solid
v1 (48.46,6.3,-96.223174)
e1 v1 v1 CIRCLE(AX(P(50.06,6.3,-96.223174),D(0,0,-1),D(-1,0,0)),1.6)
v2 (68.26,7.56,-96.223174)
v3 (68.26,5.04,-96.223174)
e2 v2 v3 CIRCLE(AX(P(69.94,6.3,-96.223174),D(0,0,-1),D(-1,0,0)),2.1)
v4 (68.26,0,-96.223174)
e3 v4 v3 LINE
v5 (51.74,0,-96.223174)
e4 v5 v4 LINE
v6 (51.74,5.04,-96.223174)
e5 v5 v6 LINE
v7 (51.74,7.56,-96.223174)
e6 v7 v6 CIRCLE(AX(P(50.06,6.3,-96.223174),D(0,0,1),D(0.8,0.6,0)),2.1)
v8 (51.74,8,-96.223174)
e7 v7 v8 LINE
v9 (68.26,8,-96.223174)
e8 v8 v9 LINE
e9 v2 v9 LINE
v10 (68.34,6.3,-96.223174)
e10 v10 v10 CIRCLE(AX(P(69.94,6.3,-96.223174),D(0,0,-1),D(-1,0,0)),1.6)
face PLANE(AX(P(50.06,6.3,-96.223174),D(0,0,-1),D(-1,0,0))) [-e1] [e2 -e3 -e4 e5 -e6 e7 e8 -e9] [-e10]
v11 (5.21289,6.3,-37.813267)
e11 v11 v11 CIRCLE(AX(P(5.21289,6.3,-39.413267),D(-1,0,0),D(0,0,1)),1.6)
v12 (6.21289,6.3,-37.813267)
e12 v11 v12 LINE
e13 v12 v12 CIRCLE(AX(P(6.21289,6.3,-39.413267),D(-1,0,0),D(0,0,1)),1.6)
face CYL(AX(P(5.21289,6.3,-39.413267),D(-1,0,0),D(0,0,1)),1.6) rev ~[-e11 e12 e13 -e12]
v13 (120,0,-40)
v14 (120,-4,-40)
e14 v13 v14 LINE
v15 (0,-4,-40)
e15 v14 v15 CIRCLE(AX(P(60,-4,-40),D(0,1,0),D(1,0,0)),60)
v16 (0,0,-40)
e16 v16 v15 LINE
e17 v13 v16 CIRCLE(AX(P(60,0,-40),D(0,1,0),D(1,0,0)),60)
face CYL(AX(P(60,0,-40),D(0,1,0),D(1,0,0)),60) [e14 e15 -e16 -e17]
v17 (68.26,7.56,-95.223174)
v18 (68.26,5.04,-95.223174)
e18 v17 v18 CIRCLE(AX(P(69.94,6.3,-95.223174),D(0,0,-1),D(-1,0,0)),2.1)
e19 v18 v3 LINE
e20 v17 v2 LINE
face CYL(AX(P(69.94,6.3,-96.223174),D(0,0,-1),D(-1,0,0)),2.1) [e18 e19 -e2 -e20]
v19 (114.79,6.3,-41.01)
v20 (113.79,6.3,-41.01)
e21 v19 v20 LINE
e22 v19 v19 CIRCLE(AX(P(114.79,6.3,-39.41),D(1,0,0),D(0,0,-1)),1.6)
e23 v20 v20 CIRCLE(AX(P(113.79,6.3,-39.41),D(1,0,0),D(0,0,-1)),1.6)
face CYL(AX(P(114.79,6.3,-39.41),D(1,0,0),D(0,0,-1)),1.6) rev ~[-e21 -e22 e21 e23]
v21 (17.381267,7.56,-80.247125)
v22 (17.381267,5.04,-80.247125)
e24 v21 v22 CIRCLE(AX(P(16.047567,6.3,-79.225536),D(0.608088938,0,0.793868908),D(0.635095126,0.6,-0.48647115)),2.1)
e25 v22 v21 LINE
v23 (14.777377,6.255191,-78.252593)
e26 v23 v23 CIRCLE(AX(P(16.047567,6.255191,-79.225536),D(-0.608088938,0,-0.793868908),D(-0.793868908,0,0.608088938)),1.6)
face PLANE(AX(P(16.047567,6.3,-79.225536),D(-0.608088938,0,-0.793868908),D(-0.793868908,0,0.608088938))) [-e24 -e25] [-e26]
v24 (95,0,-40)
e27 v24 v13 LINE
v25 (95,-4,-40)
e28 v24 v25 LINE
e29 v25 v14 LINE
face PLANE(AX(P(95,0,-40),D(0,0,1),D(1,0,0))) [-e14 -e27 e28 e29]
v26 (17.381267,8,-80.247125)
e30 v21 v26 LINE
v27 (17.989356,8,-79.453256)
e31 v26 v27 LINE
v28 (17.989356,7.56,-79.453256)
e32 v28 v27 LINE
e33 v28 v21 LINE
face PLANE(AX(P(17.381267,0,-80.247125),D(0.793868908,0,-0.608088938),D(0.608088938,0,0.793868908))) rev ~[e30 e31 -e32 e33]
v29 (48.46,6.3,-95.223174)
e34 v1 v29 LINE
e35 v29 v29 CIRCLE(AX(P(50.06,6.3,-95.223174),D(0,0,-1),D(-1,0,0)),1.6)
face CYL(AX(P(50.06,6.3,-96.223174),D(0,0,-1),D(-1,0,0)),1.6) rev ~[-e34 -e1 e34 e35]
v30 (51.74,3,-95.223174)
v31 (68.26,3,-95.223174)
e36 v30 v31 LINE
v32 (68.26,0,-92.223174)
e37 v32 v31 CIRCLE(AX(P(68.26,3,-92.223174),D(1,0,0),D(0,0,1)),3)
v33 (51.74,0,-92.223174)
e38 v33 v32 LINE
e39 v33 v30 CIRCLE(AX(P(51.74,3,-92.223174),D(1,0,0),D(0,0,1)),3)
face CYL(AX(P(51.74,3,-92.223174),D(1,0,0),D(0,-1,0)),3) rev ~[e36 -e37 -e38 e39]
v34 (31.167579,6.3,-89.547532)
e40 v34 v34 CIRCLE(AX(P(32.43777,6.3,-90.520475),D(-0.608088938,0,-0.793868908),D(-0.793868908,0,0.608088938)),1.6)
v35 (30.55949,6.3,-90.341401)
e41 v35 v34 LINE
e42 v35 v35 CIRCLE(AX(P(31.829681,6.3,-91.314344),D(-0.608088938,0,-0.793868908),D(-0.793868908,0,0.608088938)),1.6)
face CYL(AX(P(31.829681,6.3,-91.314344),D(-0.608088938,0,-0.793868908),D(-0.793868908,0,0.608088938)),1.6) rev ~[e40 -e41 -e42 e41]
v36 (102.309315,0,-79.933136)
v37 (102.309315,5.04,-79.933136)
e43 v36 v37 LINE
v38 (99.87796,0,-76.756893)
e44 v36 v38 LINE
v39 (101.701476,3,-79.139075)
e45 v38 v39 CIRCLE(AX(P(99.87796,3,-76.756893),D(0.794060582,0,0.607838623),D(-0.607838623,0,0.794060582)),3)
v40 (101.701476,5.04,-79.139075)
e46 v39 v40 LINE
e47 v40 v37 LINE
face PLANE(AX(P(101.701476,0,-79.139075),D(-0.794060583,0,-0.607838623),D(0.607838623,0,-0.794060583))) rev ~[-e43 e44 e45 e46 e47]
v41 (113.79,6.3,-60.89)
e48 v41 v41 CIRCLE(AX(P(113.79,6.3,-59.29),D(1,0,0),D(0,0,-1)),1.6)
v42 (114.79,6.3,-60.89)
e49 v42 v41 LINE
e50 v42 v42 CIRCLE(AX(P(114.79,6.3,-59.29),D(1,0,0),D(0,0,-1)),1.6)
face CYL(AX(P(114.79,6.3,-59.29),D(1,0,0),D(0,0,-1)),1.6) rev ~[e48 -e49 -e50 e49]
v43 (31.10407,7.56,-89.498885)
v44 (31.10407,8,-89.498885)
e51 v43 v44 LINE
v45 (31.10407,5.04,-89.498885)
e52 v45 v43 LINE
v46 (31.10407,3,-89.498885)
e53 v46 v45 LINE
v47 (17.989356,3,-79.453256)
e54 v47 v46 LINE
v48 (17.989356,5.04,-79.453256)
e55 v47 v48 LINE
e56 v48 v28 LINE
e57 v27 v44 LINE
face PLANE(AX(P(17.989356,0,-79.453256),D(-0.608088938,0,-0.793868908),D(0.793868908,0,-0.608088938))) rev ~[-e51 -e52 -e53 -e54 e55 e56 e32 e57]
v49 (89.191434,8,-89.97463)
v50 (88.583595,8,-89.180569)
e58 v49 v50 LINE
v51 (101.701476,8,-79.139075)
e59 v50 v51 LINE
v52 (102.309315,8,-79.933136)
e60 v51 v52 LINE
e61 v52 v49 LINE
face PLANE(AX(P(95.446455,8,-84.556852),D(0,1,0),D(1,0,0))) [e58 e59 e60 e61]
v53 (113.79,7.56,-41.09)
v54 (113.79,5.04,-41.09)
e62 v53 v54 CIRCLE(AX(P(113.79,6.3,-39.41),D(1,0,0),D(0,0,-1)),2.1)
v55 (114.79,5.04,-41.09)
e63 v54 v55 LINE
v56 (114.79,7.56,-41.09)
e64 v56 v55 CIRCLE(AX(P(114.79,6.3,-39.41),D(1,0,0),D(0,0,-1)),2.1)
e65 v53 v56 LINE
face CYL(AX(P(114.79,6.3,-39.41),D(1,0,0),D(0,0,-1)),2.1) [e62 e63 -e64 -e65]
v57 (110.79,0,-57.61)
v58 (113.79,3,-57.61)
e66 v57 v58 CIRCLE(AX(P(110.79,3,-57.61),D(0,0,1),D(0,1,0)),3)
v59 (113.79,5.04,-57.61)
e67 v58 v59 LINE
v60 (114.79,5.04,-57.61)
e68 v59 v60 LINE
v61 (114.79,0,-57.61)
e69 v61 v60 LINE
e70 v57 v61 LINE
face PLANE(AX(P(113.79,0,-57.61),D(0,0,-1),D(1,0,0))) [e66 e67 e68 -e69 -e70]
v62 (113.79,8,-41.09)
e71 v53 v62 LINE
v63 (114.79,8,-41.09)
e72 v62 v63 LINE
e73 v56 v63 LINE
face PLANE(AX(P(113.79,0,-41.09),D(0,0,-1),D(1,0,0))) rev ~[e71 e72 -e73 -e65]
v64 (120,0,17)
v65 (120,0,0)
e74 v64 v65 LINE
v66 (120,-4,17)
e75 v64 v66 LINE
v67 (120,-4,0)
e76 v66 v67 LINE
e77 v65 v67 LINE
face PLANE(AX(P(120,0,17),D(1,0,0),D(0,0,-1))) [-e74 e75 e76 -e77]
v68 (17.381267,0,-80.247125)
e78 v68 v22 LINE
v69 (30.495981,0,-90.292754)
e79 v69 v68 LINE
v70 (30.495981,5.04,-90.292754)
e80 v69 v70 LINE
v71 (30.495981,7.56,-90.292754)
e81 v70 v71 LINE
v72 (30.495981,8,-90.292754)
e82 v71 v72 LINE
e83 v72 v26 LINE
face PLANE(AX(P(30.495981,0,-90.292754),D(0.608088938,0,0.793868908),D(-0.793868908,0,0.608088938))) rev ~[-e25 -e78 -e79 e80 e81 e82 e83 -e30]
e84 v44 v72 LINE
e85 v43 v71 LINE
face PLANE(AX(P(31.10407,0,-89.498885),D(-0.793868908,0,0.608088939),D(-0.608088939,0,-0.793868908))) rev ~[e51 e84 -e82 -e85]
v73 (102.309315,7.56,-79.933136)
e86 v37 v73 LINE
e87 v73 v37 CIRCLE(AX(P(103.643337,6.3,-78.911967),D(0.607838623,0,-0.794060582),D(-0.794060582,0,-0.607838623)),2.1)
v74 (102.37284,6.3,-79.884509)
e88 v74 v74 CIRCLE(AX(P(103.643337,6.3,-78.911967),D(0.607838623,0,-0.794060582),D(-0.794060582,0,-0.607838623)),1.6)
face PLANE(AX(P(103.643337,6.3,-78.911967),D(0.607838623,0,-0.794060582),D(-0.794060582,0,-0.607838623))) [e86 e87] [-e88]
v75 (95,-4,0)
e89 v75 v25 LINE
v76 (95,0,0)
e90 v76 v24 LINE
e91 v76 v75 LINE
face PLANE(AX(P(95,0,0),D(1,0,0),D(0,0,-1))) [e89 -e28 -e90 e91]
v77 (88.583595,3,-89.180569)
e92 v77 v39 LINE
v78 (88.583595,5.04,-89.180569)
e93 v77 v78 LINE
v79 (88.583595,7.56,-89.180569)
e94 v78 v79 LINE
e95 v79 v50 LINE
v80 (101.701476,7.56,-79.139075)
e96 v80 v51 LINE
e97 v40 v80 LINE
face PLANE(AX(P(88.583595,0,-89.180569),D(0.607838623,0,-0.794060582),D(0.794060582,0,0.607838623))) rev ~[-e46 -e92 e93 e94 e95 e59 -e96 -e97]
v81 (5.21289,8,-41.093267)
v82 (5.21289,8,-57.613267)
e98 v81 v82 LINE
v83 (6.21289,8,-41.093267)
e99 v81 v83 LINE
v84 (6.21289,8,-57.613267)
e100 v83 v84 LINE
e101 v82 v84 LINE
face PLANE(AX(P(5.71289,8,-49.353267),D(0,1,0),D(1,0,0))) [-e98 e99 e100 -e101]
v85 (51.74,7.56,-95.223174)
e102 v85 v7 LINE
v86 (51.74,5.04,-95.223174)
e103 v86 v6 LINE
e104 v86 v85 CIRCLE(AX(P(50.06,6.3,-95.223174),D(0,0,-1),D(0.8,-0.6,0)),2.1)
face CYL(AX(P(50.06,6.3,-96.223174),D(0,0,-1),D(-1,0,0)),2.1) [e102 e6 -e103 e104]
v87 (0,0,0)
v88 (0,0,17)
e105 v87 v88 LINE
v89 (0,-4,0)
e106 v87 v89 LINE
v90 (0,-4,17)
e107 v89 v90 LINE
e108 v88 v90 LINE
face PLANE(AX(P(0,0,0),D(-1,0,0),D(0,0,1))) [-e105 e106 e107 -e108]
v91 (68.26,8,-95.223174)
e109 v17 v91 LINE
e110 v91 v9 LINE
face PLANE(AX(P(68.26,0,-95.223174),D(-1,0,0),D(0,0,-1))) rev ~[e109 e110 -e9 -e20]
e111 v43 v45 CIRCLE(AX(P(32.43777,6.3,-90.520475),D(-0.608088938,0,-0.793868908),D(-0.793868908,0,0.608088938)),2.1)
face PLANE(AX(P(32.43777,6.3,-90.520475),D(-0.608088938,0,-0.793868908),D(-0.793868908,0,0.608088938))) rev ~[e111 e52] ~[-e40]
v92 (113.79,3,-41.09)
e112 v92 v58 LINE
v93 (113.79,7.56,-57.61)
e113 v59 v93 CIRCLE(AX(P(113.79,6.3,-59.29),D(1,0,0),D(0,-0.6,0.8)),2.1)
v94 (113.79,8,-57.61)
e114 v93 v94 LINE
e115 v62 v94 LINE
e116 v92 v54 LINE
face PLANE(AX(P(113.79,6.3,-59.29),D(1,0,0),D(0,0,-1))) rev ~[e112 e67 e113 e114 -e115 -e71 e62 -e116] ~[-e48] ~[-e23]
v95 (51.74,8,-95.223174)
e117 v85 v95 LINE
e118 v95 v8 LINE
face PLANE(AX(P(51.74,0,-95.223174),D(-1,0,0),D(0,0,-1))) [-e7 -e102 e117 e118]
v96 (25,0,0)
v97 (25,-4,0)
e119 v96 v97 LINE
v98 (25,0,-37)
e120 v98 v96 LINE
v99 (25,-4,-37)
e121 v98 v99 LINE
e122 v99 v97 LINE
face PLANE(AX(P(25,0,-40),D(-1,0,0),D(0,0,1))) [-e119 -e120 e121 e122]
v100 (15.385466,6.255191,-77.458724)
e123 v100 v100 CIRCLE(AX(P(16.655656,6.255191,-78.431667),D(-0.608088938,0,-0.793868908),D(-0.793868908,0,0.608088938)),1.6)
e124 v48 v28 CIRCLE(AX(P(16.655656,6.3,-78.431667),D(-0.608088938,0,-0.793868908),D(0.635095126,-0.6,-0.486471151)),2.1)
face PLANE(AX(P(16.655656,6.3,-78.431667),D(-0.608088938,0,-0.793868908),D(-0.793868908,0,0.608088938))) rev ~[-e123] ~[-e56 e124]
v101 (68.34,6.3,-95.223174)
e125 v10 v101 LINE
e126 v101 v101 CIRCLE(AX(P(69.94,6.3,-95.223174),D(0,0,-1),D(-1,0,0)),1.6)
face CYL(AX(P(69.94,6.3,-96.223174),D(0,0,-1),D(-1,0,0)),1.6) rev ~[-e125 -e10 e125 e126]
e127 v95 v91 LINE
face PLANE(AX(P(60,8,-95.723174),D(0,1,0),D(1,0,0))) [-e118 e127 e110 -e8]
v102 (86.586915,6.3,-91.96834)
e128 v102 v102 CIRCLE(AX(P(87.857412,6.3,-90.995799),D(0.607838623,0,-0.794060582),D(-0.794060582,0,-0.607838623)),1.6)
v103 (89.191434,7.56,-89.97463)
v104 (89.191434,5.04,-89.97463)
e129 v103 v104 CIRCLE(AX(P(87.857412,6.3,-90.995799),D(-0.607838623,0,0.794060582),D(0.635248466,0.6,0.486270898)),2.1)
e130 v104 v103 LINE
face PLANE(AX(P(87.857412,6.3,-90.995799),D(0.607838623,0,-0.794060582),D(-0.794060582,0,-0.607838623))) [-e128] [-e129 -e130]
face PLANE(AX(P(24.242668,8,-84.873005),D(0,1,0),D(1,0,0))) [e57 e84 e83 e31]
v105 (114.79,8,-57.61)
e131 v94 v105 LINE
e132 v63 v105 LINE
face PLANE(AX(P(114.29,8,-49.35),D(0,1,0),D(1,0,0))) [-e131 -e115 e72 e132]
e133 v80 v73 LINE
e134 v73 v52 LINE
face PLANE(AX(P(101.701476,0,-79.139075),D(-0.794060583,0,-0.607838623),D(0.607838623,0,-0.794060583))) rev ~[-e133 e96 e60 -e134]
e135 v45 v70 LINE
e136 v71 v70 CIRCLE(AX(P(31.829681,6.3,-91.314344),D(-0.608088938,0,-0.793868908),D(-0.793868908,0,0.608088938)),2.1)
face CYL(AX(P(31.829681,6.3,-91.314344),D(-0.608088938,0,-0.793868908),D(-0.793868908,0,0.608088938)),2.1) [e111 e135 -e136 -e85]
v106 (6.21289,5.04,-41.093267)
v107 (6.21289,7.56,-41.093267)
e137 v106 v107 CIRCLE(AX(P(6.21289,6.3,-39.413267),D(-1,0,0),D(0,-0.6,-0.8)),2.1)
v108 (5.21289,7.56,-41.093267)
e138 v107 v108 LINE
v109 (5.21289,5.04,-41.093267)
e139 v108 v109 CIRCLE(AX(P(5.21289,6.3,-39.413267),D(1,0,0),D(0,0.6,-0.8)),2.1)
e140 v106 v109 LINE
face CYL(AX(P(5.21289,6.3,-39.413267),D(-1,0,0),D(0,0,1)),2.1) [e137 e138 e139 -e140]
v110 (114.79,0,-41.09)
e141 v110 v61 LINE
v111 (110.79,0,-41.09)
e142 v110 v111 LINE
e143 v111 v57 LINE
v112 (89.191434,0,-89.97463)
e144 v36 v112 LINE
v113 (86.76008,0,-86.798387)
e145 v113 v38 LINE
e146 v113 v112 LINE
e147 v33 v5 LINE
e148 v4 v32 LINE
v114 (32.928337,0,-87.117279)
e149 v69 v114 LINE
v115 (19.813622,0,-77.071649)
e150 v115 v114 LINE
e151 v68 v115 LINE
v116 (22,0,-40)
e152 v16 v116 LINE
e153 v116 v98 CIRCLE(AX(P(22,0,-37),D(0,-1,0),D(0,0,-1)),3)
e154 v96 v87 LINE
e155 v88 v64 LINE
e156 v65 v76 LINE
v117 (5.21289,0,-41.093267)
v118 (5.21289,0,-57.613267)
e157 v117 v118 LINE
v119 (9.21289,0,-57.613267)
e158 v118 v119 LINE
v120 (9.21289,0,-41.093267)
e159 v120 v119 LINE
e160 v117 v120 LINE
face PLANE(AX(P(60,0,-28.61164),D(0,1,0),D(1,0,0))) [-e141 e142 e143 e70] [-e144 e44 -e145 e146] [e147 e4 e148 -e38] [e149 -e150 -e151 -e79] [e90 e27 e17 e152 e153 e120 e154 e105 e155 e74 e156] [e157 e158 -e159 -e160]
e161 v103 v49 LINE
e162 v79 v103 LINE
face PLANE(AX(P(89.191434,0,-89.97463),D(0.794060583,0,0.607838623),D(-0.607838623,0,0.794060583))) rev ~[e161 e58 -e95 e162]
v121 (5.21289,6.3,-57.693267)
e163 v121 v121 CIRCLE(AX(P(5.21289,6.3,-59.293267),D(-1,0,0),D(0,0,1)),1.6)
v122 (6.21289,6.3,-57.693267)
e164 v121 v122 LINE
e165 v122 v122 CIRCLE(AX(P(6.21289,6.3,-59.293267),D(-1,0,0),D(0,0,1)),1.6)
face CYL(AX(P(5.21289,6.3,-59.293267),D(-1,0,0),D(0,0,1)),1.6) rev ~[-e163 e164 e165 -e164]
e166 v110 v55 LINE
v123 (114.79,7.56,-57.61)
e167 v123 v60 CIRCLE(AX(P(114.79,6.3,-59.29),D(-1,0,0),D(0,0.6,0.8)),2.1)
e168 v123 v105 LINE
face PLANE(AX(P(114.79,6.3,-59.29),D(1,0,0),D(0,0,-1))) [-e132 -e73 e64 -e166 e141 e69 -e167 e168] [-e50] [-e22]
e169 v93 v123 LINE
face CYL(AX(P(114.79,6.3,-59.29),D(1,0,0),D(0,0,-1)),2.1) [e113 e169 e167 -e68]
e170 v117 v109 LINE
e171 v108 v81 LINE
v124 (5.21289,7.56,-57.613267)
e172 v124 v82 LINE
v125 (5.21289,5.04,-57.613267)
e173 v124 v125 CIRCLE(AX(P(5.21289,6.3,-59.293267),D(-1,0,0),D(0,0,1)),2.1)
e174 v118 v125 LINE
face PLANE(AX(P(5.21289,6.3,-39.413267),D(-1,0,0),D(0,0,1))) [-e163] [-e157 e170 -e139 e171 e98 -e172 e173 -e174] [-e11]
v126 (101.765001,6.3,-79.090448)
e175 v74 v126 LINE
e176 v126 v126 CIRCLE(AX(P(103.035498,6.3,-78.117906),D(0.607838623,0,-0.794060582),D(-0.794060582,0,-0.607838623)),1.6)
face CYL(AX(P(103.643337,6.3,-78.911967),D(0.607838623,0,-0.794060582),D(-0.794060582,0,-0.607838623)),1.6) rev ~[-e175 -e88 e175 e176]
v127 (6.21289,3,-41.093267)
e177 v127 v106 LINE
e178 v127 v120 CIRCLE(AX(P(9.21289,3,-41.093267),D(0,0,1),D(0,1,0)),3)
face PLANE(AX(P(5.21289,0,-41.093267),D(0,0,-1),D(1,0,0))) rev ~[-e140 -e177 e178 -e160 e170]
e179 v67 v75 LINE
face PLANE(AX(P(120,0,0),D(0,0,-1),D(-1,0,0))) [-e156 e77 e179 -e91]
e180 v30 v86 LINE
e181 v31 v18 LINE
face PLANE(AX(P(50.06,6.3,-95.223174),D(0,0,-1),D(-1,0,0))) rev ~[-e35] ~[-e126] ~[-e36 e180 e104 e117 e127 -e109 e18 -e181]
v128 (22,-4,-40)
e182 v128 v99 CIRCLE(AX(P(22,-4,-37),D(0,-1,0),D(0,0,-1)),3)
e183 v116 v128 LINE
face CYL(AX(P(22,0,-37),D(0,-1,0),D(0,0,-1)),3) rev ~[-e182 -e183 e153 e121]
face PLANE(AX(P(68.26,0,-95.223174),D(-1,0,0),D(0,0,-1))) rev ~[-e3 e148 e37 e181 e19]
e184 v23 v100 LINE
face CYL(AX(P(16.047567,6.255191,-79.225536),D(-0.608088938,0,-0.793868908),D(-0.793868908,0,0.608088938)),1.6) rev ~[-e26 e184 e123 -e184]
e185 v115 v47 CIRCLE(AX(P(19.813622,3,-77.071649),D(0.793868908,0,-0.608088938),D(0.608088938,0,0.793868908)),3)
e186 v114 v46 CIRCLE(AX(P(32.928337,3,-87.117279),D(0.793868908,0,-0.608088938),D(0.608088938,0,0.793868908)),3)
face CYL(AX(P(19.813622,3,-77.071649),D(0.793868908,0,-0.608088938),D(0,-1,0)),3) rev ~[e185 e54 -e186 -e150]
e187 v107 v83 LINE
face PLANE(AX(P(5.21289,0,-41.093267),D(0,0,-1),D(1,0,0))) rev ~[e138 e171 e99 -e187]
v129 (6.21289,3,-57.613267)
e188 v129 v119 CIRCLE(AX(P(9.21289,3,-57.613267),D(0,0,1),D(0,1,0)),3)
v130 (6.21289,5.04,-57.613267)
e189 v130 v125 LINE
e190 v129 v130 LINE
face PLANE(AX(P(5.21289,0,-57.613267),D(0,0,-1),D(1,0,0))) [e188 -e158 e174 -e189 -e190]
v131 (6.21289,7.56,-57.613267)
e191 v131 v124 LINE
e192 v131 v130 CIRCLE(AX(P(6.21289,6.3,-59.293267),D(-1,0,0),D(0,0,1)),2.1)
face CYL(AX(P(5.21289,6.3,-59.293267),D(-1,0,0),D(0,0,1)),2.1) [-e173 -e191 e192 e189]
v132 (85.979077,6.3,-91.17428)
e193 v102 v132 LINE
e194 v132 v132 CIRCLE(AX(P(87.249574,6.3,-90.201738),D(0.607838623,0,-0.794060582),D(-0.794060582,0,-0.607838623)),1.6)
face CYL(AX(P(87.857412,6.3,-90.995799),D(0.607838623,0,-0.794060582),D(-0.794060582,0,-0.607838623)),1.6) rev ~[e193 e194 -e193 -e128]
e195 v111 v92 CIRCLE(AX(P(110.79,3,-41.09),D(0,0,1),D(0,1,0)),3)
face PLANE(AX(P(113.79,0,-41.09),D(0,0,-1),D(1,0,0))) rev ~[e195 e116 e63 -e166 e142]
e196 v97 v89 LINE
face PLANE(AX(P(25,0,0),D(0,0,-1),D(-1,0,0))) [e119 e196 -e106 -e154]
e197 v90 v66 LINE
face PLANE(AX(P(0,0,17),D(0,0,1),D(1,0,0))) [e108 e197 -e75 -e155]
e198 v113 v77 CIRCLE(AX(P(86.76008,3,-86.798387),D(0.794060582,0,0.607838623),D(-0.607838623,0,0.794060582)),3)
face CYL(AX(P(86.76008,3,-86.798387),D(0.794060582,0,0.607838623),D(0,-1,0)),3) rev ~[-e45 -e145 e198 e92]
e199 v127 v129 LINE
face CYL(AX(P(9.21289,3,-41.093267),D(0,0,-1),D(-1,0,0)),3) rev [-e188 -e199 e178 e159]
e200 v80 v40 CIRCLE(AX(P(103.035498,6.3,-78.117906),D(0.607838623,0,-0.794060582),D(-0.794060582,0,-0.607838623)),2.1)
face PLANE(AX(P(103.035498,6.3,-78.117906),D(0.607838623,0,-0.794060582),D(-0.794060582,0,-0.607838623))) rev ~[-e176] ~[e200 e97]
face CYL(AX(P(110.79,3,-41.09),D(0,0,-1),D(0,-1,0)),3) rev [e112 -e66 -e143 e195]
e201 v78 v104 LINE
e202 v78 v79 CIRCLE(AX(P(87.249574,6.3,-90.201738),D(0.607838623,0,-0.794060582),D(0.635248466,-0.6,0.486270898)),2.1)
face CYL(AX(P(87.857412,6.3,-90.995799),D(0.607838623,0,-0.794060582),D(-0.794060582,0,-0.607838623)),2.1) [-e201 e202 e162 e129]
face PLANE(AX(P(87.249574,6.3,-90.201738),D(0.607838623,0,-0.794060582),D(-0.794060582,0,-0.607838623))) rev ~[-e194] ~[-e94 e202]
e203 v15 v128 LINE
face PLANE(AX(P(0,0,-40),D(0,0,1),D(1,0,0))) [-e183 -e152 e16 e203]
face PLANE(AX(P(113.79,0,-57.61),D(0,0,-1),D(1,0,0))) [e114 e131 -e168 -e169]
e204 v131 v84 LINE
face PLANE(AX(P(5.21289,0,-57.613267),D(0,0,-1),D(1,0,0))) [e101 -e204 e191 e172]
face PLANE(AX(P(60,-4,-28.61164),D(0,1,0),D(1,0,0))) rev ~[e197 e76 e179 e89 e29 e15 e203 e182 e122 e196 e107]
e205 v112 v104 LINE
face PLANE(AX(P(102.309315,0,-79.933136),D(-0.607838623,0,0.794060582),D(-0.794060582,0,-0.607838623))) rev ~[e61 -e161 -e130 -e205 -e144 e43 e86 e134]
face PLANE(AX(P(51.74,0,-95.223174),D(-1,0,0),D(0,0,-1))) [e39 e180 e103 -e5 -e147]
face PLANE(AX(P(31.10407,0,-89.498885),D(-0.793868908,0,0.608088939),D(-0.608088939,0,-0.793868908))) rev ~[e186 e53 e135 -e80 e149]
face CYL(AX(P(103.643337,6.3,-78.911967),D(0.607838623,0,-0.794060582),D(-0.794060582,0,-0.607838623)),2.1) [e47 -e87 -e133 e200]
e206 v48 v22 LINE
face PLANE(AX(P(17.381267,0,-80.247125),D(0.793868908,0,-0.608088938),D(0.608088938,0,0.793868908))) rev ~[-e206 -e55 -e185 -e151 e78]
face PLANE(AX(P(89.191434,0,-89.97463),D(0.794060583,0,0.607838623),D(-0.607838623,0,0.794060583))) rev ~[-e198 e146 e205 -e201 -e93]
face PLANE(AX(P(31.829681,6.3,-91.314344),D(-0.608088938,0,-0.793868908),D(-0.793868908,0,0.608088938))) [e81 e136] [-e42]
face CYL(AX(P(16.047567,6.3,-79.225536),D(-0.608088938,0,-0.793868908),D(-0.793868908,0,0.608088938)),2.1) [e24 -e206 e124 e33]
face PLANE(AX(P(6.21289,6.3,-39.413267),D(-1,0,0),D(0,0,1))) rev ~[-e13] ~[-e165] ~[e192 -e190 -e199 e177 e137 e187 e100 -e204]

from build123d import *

# Parameters (mm, degrees)
BOSS_EXTRUDE1_DEPTH  = 4
FILLET1_R            = 3
SKETCH3_W            = 1
SKETCH3_H            = 16.52
BOSS_EXTRUDE2_DEPTH  = 8
SKETCH4_R            = 2.1
BOSS_EXTRUDE3_DEPTH  = 1
SKETCH5_R            = 1.6
CUT_EXTRUDE1_DEPTH   = 1
SKETCH6_R            = 2.1
BOSS_EXTRUDE4_DEPTH  = 1
SKETCH7_R            = 1.6
CUT_EXTRUDE2_DEPTH   = 1
FILLET2_R            = 3
SKETCH8_W            = 1
SKETCH8_H            = 16.52
BOSS_EXTRUDE5_DEPTH  = 8
FILLET3_R            = 3
SKETCH9_R            = 2.1
BOSS_EXTRUDE6_DEPTH  = 1
SKETCH10_R           = 2.1
BOSS_EXTRUDE7_DEPTH  = 1
SKETCH11_R           = 1.6
CUT_EXTRUDE3_DEPTH   = 1
SKETCH13_W           = 16.52
SKETCH13_H           = 1
BOSS_EXTRUDE8_DEPTH  = 8
BOSS_EXTRUDE9_DEPTH  = 8
BOSS_EXTRUDE10_DEPTH = 8
SKETCH16_R           = 2.1
BOSS_EXTRUDE11_DEPTH = 1
SKETCH17_R           = 2.1
BOSS_EXTRUDE12_DEPTH = 1
SKETCH18_R           = 1.6
CUT_EXTRUDE4_DEPTH   = 1
SKETCH19_R           = 1.6
CUT_EXTRUDE5_DEPTH   = 1
SKETCH20_R           = 2.1
BOSS_EXTRUDE13_DEPTH = 1
SKETCH21_R           = 2.1
BOSS_EXTRUDE14_DEPTH = 1
SKETCH22_R           = 1.6
CUT_EXTRUDE6_DEPTH   = 1
SKETCH23_R           = 2.1
BOSS_EXTRUDE15_DEPTH = 1
SKETCH24_R           = 2.1
BOSS_EXTRUDE16_DEPTH = 1
SKETCH25_R           = 1.6
CUT_EXTRUDE7_DEPTH   = 1
FILLET4_R            = 3


with BuildPart() as part:
    # Sketch2 → Boss-Extrude1 (new body)
    with BuildSketch(Plane(origin=(0, 0, 0), x_dir=(1, 0, 0), z_dir=(0, 1, 0))):
        with BuildLine():
            Line((0, 0), (0, -17))
            Line((0, -17), (120, -17))
            Line((120, -17), (120, 0))
            Line((120, 0), (95, 0))
            Line((95, 0), (95, 40))
            Line((95, 40), (120, 40))
            ThreePointArc((120, 40), (60, 100), (0, 40))
            Line((0, 40), (25, 40))
            Line((25, 40), (25, 0))
            Line((25, 0), (0, 0))
        make_face()
    extrude(amount=-BOSS_EXTRUDE1_DEPTH)

    # Fillet1
    fillet1_edges = [part.edges().sort_by_distance(p)[0] for p in [
        (25, -2, -40),
    ]]
    fillet(fillet1_edges, radius=FILLET1_R)

    # Sketch3 → Boss-Extrude2 (add)
    with BuildSketch(Plane(origin=(0, 0, 0), x_dir=(1, 0, 0), z_dir=(0, 1, 0))):
        with Locations((5.712890466, 49.353267214)):
            Rectangle(SKETCH3_W, SKETCH3_H)
    extrude(amount=BOSS_EXTRUDE2_DEPTH)

    # Sketch4 → Boss-Extrude3 (add)
    with BuildSketch(Plane.ZY.offset(-5.212890466)):
        with Locations((-59.293267214, 6.3)):
            Circle(SKETCH4_R)
    extrude(amount=-BOSS_EXTRUDE3_DEPTH)

    # Sketch5 → Cut-Extrude1 (cut)
    with BuildSketch(Plane.ZY.offset(-5.212890466)):
        with Locations((-59.293267214, 6.3)):
            Circle(SKETCH5_R)
    extrude(amount=-CUT_EXTRUDE1_DEPTH, mode=Mode.SUBTRACT)

    # Sketch6 → Boss-Extrude4 (add)
    with BuildSketch(Plane.ZY.offset(-5.212890466)):
        with Locations((-39.413267214, 6.3)):
            Circle(SKETCH6_R)
    extrude(amount=-BOSS_EXTRUDE4_DEPTH)

    # Sketch7 → Cut-Extrude2 (cut)
    with BuildSketch(Plane.ZY.offset(-5.212890466)):
        with Locations((-39.413267214, 6.3)):
            Circle(SKETCH7_R)
    extrude(amount=-CUT_EXTRUDE2_DEPTH, mode=Mode.SUBTRACT)

    # Fillet2
    fillet2_edges = [part.edges().sort_by_distance(p)[0] for p in [
        (6.212890466, 0, -49.353267214),
    ]]
    fillet(fillet2_edges, radius=FILLET2_R)

    # Sketch8 → Boss-Extrude5 (add)
    with BuildSketch(Plane(origin=(0, 0, 0), x_dir=(1, 0, 0), z_dir=(0, 1, 0))):
        with Locations((114.29, 49.35)):
            Rectangle(SKETCH8_W, SKETCH8_H)
    extrude(amount=BOSS_EXTRUDE5_DEPTH)

    # Fillet3
    fillet3_edges = [part.edges().sort_by_distance(p)[0] for p in [
        (113.79, 0, -49.35),
    ]]
    fillet(fillet3_edges, radius=FILLET3_R)

    # Sketch9 → Boss-Extrude6 (add)
    with BuildSketch(Plane(origin=(114.79, 0, 0), x_dir=(0, 0, -1), z_dir=(1, 0, 0))):
        with Locations((39.41, 6.3)):
            Circle(SKETCH9_R)
    extrude(amount=-BOSS_EXTRUDE6_DEPTH)

    # Sketch10 → Boss-Extrude7 (add)
    with BuildSketch(Plane(origin=(114.79, 0, 0), x_dir=(0, 0, -1), z_dir=(1, 0, 0))):
        with Locations((59.29, 6.3)):
            Circle(SKETCH10_R)
    extrude(amount=-BOSS_EXTRUDE7_DEPTH)

    # Sketch11 → Cut-Extrude3 (cut)
    with BuildSketch(Plane(origin=(114.79, 0, 0), x_dir=(0, 0, -1), z_dir=(1, 0, 0))):
        with Locations((39.41, 6.3)):
            Circle(SKETCH11_R)
        with Locations((59.29, 6.3)):
            Circle(SKETCH11_R)
    extrude(amount=-CUT_EXTRUDE3_DEPTH, mode=Mode.SUBTRACT)

    # Sketch13 → Boss-Extrude8 (add)
    with BuildSketch(Plane(origin=(0, 0, 0), x_dir=(1, 0, 0), z_dir=(0, 1, 0))):
        with Locations((60, 95.723174162)):
            Rectangle(SKETCH13_W, SKETCH13_H)
    extrude(amount=BOSS_EXTRUDE8_DEPTH)

    # Sketch14 → Boss-Extrude9 (add)
    with BuildSketch(Plane(origin=(0, 0, 0), x_dir=(1, 0, 0), z_dir=(0, 1, 0))):
        Polygon((102.309314854, 79.933135701), (89.191434032, 89.974629751), (88.583595409, 89.180569168), (101.701476231, 79.139075118), align=None)
    extrude(amount=BOSS_EXTRUDE9_DEPTH)

    # Sketch15 → Boss-Extrude10 (add)
    with BuildSketch(Plane(origin=(0, 0, 0), x_dir=(1, 0, 0), z_dir=(0, 1, 0))):
        Polygon((30.495980982, 90.292754217), (17.38126662, 80.247124958), (17.989355558, 79.45325605), (31.104069921, 89.498885309), align=None)
    extrude(amount=BOSS_EXTRUDE10_DEPTH)

    # Sketch16 → Boss-Extrude11 (add)
    with BuildSketch(Plane(origin=(0, 0, -96.223174162), x_dir=(-1, 0, 0), z_dir=(0, 0, -1))):
        with Locations((-69.94, 6.3)):
            Circle(SKETCH16_R)
    extrude(amount=-BOSS_EXTRUDE11_DEPTH)

    # Sketch17 → Boss-Extrude12 (add)
    with BuildSketch(Plane(origin=(0, 0, -96.223174162), x_dir=(-1, 0, 0), z_dir=(0, 0, -1))):
        with Locations((-50.06, 6.3)):
            Circle(SKETCH17_R)
    extrude(amount=-BOSS_EXTRUDE12_DEPTH)

    # Sketch18 → Cut-Extrude4 (cut)
    with BuildSketch(Plane(origin=(0, 0, -96.223174162), x_dir=(-1, 0, 0), z_dir=(0, 0, -1))):
        with Locations((-69.94, 6.3)):
            Circle(SKETCH18_R)
    extrude(amount=-CUT_EXTRUDE4_DEPTH, mode=Mode.SUBTRACT)

    # Sketch19 → Cut-Extrude5 (cut)
    with BuildSketch(Plane(origin=(0, 0, -96.223174162), x_dir=(-1, 0, 0), z_dir=(0, 0, -1))):
        with Locations((-50.06, 6.3)):
            Circle(SKETCH19_R)
    extrude(amount=-CUT_EXTRUDE5_DEPTH, mode=Mode.SUBTRACT)

    # Sketch20 → Boss-Extrude13 (add)
    with BuildSketch(Plane(origin=(76.380579105, 0, -99.781101182), x_dir=(-0.7940605824226628, 0, -0.607838622861843), z_dir=(0.6078386228618429, 0, -0.7940605824226626))):
        with Locations((-34.333347015, 6.3)):
            Circle(SKETCH20_R)
    extrude(amount=-BOSS_EXTRUDE13_DEPTH)

    # Sketch21 → Boss-Extrude14 (add)
    with BuildSketch(Plane(origin=(76.380579105, 0, -99.781101182), x_dir=(-0.7940605824226628, 0, -0.607838622861843), z_dir=(0.6078386228618429, 0, -0.7940605824226626))):
        with Locations((-14.453347015, 6.3)):
            Circle(SKETCH21_R)
    extrude(amount=-BOSS_EXTRUDE14_DEPTH)

    # Sketch22 → Cut-Extrude6 (cut)
    with BuildSketch(Plane(origin=(76.380579105, 0, -99.781101182), x_dir=(-0.7940605824226628, 0, -0.607838622861843), z_dir=(0.6078386228618429, 0, -0.7940605824226626))):
        with Locations((-34.333347015, 6.3)):
            Circle(SKETCH22_R)
        with Locations((-14.453347015, 6.3)):
            Circle(SKETCH22_R)
    extrude(amount=-CUT_EXTRUDE6_DEPTH, mode=Mode.SUBTRACT)

    # Sketch23 → Boss-Extrude15 (add)
    with BuildSketch(Plane(origin=(-32.311621485, 0, -42.183289414), x_dir=(-0.7938689081223455, 0, 0.6080889381633537), z_dir=(-0.6080889381633537, 0, -0.7938689081223455))):
        with Locations((-80.79583616, 6.3)):
            Circle(SKETCH23_R)
    extrude(amount=-BOSS_EXTRUDE15_DEPTH)

    # Sketch24 → Boss-Extrude16 (add)
    with BuildSketch(Plane(origin=(-32.311621485, 0, -42.183289414), x_dir=(-0.7938689081223455, 0, 0.6080889381633537), z_dir=(-0.6080889381633537, 0, -0.7938689081223455))):
        with Locations((-60.91583616, 6.3)):
            Circle(SKETCH24_R)
    extrude(amount=-BOSS_EXTRUDE16_DEPTH)

    # Sketch25 → Cut-Extrude7 (cut)
    with BuildSketch(Plane(origin=(-32.311621485, 0, -42.183289414), x_dir=(-0.7938689081223455, 0, 0.6080889381633537), z_dir=(-0.6080889381633537, 0, -0.7938689081223455))):
        with Locations((-80.79583616, 6.3)):
            Circle(SKETCH25_R)
        with Locations((-60.91583616, 6.255190771)):
            Circle(SKETCH25_R)
    extrude(amount=-CUT_EXTRUDE7_DEPTH, mode=Mode.SUBTRACT)

    # Fillet4
    fillet4_edges = [part.edges().sort_by_distance(p)[0] for p in [
        (60, 0, -95.223174162),
        (95.14253582, 0, -84.159822143),
        (24.54671274, 0, -84.47607068),
    ]]
    fillet(fillet4_edges, radius=FILLET4_R)


solid = part.part
